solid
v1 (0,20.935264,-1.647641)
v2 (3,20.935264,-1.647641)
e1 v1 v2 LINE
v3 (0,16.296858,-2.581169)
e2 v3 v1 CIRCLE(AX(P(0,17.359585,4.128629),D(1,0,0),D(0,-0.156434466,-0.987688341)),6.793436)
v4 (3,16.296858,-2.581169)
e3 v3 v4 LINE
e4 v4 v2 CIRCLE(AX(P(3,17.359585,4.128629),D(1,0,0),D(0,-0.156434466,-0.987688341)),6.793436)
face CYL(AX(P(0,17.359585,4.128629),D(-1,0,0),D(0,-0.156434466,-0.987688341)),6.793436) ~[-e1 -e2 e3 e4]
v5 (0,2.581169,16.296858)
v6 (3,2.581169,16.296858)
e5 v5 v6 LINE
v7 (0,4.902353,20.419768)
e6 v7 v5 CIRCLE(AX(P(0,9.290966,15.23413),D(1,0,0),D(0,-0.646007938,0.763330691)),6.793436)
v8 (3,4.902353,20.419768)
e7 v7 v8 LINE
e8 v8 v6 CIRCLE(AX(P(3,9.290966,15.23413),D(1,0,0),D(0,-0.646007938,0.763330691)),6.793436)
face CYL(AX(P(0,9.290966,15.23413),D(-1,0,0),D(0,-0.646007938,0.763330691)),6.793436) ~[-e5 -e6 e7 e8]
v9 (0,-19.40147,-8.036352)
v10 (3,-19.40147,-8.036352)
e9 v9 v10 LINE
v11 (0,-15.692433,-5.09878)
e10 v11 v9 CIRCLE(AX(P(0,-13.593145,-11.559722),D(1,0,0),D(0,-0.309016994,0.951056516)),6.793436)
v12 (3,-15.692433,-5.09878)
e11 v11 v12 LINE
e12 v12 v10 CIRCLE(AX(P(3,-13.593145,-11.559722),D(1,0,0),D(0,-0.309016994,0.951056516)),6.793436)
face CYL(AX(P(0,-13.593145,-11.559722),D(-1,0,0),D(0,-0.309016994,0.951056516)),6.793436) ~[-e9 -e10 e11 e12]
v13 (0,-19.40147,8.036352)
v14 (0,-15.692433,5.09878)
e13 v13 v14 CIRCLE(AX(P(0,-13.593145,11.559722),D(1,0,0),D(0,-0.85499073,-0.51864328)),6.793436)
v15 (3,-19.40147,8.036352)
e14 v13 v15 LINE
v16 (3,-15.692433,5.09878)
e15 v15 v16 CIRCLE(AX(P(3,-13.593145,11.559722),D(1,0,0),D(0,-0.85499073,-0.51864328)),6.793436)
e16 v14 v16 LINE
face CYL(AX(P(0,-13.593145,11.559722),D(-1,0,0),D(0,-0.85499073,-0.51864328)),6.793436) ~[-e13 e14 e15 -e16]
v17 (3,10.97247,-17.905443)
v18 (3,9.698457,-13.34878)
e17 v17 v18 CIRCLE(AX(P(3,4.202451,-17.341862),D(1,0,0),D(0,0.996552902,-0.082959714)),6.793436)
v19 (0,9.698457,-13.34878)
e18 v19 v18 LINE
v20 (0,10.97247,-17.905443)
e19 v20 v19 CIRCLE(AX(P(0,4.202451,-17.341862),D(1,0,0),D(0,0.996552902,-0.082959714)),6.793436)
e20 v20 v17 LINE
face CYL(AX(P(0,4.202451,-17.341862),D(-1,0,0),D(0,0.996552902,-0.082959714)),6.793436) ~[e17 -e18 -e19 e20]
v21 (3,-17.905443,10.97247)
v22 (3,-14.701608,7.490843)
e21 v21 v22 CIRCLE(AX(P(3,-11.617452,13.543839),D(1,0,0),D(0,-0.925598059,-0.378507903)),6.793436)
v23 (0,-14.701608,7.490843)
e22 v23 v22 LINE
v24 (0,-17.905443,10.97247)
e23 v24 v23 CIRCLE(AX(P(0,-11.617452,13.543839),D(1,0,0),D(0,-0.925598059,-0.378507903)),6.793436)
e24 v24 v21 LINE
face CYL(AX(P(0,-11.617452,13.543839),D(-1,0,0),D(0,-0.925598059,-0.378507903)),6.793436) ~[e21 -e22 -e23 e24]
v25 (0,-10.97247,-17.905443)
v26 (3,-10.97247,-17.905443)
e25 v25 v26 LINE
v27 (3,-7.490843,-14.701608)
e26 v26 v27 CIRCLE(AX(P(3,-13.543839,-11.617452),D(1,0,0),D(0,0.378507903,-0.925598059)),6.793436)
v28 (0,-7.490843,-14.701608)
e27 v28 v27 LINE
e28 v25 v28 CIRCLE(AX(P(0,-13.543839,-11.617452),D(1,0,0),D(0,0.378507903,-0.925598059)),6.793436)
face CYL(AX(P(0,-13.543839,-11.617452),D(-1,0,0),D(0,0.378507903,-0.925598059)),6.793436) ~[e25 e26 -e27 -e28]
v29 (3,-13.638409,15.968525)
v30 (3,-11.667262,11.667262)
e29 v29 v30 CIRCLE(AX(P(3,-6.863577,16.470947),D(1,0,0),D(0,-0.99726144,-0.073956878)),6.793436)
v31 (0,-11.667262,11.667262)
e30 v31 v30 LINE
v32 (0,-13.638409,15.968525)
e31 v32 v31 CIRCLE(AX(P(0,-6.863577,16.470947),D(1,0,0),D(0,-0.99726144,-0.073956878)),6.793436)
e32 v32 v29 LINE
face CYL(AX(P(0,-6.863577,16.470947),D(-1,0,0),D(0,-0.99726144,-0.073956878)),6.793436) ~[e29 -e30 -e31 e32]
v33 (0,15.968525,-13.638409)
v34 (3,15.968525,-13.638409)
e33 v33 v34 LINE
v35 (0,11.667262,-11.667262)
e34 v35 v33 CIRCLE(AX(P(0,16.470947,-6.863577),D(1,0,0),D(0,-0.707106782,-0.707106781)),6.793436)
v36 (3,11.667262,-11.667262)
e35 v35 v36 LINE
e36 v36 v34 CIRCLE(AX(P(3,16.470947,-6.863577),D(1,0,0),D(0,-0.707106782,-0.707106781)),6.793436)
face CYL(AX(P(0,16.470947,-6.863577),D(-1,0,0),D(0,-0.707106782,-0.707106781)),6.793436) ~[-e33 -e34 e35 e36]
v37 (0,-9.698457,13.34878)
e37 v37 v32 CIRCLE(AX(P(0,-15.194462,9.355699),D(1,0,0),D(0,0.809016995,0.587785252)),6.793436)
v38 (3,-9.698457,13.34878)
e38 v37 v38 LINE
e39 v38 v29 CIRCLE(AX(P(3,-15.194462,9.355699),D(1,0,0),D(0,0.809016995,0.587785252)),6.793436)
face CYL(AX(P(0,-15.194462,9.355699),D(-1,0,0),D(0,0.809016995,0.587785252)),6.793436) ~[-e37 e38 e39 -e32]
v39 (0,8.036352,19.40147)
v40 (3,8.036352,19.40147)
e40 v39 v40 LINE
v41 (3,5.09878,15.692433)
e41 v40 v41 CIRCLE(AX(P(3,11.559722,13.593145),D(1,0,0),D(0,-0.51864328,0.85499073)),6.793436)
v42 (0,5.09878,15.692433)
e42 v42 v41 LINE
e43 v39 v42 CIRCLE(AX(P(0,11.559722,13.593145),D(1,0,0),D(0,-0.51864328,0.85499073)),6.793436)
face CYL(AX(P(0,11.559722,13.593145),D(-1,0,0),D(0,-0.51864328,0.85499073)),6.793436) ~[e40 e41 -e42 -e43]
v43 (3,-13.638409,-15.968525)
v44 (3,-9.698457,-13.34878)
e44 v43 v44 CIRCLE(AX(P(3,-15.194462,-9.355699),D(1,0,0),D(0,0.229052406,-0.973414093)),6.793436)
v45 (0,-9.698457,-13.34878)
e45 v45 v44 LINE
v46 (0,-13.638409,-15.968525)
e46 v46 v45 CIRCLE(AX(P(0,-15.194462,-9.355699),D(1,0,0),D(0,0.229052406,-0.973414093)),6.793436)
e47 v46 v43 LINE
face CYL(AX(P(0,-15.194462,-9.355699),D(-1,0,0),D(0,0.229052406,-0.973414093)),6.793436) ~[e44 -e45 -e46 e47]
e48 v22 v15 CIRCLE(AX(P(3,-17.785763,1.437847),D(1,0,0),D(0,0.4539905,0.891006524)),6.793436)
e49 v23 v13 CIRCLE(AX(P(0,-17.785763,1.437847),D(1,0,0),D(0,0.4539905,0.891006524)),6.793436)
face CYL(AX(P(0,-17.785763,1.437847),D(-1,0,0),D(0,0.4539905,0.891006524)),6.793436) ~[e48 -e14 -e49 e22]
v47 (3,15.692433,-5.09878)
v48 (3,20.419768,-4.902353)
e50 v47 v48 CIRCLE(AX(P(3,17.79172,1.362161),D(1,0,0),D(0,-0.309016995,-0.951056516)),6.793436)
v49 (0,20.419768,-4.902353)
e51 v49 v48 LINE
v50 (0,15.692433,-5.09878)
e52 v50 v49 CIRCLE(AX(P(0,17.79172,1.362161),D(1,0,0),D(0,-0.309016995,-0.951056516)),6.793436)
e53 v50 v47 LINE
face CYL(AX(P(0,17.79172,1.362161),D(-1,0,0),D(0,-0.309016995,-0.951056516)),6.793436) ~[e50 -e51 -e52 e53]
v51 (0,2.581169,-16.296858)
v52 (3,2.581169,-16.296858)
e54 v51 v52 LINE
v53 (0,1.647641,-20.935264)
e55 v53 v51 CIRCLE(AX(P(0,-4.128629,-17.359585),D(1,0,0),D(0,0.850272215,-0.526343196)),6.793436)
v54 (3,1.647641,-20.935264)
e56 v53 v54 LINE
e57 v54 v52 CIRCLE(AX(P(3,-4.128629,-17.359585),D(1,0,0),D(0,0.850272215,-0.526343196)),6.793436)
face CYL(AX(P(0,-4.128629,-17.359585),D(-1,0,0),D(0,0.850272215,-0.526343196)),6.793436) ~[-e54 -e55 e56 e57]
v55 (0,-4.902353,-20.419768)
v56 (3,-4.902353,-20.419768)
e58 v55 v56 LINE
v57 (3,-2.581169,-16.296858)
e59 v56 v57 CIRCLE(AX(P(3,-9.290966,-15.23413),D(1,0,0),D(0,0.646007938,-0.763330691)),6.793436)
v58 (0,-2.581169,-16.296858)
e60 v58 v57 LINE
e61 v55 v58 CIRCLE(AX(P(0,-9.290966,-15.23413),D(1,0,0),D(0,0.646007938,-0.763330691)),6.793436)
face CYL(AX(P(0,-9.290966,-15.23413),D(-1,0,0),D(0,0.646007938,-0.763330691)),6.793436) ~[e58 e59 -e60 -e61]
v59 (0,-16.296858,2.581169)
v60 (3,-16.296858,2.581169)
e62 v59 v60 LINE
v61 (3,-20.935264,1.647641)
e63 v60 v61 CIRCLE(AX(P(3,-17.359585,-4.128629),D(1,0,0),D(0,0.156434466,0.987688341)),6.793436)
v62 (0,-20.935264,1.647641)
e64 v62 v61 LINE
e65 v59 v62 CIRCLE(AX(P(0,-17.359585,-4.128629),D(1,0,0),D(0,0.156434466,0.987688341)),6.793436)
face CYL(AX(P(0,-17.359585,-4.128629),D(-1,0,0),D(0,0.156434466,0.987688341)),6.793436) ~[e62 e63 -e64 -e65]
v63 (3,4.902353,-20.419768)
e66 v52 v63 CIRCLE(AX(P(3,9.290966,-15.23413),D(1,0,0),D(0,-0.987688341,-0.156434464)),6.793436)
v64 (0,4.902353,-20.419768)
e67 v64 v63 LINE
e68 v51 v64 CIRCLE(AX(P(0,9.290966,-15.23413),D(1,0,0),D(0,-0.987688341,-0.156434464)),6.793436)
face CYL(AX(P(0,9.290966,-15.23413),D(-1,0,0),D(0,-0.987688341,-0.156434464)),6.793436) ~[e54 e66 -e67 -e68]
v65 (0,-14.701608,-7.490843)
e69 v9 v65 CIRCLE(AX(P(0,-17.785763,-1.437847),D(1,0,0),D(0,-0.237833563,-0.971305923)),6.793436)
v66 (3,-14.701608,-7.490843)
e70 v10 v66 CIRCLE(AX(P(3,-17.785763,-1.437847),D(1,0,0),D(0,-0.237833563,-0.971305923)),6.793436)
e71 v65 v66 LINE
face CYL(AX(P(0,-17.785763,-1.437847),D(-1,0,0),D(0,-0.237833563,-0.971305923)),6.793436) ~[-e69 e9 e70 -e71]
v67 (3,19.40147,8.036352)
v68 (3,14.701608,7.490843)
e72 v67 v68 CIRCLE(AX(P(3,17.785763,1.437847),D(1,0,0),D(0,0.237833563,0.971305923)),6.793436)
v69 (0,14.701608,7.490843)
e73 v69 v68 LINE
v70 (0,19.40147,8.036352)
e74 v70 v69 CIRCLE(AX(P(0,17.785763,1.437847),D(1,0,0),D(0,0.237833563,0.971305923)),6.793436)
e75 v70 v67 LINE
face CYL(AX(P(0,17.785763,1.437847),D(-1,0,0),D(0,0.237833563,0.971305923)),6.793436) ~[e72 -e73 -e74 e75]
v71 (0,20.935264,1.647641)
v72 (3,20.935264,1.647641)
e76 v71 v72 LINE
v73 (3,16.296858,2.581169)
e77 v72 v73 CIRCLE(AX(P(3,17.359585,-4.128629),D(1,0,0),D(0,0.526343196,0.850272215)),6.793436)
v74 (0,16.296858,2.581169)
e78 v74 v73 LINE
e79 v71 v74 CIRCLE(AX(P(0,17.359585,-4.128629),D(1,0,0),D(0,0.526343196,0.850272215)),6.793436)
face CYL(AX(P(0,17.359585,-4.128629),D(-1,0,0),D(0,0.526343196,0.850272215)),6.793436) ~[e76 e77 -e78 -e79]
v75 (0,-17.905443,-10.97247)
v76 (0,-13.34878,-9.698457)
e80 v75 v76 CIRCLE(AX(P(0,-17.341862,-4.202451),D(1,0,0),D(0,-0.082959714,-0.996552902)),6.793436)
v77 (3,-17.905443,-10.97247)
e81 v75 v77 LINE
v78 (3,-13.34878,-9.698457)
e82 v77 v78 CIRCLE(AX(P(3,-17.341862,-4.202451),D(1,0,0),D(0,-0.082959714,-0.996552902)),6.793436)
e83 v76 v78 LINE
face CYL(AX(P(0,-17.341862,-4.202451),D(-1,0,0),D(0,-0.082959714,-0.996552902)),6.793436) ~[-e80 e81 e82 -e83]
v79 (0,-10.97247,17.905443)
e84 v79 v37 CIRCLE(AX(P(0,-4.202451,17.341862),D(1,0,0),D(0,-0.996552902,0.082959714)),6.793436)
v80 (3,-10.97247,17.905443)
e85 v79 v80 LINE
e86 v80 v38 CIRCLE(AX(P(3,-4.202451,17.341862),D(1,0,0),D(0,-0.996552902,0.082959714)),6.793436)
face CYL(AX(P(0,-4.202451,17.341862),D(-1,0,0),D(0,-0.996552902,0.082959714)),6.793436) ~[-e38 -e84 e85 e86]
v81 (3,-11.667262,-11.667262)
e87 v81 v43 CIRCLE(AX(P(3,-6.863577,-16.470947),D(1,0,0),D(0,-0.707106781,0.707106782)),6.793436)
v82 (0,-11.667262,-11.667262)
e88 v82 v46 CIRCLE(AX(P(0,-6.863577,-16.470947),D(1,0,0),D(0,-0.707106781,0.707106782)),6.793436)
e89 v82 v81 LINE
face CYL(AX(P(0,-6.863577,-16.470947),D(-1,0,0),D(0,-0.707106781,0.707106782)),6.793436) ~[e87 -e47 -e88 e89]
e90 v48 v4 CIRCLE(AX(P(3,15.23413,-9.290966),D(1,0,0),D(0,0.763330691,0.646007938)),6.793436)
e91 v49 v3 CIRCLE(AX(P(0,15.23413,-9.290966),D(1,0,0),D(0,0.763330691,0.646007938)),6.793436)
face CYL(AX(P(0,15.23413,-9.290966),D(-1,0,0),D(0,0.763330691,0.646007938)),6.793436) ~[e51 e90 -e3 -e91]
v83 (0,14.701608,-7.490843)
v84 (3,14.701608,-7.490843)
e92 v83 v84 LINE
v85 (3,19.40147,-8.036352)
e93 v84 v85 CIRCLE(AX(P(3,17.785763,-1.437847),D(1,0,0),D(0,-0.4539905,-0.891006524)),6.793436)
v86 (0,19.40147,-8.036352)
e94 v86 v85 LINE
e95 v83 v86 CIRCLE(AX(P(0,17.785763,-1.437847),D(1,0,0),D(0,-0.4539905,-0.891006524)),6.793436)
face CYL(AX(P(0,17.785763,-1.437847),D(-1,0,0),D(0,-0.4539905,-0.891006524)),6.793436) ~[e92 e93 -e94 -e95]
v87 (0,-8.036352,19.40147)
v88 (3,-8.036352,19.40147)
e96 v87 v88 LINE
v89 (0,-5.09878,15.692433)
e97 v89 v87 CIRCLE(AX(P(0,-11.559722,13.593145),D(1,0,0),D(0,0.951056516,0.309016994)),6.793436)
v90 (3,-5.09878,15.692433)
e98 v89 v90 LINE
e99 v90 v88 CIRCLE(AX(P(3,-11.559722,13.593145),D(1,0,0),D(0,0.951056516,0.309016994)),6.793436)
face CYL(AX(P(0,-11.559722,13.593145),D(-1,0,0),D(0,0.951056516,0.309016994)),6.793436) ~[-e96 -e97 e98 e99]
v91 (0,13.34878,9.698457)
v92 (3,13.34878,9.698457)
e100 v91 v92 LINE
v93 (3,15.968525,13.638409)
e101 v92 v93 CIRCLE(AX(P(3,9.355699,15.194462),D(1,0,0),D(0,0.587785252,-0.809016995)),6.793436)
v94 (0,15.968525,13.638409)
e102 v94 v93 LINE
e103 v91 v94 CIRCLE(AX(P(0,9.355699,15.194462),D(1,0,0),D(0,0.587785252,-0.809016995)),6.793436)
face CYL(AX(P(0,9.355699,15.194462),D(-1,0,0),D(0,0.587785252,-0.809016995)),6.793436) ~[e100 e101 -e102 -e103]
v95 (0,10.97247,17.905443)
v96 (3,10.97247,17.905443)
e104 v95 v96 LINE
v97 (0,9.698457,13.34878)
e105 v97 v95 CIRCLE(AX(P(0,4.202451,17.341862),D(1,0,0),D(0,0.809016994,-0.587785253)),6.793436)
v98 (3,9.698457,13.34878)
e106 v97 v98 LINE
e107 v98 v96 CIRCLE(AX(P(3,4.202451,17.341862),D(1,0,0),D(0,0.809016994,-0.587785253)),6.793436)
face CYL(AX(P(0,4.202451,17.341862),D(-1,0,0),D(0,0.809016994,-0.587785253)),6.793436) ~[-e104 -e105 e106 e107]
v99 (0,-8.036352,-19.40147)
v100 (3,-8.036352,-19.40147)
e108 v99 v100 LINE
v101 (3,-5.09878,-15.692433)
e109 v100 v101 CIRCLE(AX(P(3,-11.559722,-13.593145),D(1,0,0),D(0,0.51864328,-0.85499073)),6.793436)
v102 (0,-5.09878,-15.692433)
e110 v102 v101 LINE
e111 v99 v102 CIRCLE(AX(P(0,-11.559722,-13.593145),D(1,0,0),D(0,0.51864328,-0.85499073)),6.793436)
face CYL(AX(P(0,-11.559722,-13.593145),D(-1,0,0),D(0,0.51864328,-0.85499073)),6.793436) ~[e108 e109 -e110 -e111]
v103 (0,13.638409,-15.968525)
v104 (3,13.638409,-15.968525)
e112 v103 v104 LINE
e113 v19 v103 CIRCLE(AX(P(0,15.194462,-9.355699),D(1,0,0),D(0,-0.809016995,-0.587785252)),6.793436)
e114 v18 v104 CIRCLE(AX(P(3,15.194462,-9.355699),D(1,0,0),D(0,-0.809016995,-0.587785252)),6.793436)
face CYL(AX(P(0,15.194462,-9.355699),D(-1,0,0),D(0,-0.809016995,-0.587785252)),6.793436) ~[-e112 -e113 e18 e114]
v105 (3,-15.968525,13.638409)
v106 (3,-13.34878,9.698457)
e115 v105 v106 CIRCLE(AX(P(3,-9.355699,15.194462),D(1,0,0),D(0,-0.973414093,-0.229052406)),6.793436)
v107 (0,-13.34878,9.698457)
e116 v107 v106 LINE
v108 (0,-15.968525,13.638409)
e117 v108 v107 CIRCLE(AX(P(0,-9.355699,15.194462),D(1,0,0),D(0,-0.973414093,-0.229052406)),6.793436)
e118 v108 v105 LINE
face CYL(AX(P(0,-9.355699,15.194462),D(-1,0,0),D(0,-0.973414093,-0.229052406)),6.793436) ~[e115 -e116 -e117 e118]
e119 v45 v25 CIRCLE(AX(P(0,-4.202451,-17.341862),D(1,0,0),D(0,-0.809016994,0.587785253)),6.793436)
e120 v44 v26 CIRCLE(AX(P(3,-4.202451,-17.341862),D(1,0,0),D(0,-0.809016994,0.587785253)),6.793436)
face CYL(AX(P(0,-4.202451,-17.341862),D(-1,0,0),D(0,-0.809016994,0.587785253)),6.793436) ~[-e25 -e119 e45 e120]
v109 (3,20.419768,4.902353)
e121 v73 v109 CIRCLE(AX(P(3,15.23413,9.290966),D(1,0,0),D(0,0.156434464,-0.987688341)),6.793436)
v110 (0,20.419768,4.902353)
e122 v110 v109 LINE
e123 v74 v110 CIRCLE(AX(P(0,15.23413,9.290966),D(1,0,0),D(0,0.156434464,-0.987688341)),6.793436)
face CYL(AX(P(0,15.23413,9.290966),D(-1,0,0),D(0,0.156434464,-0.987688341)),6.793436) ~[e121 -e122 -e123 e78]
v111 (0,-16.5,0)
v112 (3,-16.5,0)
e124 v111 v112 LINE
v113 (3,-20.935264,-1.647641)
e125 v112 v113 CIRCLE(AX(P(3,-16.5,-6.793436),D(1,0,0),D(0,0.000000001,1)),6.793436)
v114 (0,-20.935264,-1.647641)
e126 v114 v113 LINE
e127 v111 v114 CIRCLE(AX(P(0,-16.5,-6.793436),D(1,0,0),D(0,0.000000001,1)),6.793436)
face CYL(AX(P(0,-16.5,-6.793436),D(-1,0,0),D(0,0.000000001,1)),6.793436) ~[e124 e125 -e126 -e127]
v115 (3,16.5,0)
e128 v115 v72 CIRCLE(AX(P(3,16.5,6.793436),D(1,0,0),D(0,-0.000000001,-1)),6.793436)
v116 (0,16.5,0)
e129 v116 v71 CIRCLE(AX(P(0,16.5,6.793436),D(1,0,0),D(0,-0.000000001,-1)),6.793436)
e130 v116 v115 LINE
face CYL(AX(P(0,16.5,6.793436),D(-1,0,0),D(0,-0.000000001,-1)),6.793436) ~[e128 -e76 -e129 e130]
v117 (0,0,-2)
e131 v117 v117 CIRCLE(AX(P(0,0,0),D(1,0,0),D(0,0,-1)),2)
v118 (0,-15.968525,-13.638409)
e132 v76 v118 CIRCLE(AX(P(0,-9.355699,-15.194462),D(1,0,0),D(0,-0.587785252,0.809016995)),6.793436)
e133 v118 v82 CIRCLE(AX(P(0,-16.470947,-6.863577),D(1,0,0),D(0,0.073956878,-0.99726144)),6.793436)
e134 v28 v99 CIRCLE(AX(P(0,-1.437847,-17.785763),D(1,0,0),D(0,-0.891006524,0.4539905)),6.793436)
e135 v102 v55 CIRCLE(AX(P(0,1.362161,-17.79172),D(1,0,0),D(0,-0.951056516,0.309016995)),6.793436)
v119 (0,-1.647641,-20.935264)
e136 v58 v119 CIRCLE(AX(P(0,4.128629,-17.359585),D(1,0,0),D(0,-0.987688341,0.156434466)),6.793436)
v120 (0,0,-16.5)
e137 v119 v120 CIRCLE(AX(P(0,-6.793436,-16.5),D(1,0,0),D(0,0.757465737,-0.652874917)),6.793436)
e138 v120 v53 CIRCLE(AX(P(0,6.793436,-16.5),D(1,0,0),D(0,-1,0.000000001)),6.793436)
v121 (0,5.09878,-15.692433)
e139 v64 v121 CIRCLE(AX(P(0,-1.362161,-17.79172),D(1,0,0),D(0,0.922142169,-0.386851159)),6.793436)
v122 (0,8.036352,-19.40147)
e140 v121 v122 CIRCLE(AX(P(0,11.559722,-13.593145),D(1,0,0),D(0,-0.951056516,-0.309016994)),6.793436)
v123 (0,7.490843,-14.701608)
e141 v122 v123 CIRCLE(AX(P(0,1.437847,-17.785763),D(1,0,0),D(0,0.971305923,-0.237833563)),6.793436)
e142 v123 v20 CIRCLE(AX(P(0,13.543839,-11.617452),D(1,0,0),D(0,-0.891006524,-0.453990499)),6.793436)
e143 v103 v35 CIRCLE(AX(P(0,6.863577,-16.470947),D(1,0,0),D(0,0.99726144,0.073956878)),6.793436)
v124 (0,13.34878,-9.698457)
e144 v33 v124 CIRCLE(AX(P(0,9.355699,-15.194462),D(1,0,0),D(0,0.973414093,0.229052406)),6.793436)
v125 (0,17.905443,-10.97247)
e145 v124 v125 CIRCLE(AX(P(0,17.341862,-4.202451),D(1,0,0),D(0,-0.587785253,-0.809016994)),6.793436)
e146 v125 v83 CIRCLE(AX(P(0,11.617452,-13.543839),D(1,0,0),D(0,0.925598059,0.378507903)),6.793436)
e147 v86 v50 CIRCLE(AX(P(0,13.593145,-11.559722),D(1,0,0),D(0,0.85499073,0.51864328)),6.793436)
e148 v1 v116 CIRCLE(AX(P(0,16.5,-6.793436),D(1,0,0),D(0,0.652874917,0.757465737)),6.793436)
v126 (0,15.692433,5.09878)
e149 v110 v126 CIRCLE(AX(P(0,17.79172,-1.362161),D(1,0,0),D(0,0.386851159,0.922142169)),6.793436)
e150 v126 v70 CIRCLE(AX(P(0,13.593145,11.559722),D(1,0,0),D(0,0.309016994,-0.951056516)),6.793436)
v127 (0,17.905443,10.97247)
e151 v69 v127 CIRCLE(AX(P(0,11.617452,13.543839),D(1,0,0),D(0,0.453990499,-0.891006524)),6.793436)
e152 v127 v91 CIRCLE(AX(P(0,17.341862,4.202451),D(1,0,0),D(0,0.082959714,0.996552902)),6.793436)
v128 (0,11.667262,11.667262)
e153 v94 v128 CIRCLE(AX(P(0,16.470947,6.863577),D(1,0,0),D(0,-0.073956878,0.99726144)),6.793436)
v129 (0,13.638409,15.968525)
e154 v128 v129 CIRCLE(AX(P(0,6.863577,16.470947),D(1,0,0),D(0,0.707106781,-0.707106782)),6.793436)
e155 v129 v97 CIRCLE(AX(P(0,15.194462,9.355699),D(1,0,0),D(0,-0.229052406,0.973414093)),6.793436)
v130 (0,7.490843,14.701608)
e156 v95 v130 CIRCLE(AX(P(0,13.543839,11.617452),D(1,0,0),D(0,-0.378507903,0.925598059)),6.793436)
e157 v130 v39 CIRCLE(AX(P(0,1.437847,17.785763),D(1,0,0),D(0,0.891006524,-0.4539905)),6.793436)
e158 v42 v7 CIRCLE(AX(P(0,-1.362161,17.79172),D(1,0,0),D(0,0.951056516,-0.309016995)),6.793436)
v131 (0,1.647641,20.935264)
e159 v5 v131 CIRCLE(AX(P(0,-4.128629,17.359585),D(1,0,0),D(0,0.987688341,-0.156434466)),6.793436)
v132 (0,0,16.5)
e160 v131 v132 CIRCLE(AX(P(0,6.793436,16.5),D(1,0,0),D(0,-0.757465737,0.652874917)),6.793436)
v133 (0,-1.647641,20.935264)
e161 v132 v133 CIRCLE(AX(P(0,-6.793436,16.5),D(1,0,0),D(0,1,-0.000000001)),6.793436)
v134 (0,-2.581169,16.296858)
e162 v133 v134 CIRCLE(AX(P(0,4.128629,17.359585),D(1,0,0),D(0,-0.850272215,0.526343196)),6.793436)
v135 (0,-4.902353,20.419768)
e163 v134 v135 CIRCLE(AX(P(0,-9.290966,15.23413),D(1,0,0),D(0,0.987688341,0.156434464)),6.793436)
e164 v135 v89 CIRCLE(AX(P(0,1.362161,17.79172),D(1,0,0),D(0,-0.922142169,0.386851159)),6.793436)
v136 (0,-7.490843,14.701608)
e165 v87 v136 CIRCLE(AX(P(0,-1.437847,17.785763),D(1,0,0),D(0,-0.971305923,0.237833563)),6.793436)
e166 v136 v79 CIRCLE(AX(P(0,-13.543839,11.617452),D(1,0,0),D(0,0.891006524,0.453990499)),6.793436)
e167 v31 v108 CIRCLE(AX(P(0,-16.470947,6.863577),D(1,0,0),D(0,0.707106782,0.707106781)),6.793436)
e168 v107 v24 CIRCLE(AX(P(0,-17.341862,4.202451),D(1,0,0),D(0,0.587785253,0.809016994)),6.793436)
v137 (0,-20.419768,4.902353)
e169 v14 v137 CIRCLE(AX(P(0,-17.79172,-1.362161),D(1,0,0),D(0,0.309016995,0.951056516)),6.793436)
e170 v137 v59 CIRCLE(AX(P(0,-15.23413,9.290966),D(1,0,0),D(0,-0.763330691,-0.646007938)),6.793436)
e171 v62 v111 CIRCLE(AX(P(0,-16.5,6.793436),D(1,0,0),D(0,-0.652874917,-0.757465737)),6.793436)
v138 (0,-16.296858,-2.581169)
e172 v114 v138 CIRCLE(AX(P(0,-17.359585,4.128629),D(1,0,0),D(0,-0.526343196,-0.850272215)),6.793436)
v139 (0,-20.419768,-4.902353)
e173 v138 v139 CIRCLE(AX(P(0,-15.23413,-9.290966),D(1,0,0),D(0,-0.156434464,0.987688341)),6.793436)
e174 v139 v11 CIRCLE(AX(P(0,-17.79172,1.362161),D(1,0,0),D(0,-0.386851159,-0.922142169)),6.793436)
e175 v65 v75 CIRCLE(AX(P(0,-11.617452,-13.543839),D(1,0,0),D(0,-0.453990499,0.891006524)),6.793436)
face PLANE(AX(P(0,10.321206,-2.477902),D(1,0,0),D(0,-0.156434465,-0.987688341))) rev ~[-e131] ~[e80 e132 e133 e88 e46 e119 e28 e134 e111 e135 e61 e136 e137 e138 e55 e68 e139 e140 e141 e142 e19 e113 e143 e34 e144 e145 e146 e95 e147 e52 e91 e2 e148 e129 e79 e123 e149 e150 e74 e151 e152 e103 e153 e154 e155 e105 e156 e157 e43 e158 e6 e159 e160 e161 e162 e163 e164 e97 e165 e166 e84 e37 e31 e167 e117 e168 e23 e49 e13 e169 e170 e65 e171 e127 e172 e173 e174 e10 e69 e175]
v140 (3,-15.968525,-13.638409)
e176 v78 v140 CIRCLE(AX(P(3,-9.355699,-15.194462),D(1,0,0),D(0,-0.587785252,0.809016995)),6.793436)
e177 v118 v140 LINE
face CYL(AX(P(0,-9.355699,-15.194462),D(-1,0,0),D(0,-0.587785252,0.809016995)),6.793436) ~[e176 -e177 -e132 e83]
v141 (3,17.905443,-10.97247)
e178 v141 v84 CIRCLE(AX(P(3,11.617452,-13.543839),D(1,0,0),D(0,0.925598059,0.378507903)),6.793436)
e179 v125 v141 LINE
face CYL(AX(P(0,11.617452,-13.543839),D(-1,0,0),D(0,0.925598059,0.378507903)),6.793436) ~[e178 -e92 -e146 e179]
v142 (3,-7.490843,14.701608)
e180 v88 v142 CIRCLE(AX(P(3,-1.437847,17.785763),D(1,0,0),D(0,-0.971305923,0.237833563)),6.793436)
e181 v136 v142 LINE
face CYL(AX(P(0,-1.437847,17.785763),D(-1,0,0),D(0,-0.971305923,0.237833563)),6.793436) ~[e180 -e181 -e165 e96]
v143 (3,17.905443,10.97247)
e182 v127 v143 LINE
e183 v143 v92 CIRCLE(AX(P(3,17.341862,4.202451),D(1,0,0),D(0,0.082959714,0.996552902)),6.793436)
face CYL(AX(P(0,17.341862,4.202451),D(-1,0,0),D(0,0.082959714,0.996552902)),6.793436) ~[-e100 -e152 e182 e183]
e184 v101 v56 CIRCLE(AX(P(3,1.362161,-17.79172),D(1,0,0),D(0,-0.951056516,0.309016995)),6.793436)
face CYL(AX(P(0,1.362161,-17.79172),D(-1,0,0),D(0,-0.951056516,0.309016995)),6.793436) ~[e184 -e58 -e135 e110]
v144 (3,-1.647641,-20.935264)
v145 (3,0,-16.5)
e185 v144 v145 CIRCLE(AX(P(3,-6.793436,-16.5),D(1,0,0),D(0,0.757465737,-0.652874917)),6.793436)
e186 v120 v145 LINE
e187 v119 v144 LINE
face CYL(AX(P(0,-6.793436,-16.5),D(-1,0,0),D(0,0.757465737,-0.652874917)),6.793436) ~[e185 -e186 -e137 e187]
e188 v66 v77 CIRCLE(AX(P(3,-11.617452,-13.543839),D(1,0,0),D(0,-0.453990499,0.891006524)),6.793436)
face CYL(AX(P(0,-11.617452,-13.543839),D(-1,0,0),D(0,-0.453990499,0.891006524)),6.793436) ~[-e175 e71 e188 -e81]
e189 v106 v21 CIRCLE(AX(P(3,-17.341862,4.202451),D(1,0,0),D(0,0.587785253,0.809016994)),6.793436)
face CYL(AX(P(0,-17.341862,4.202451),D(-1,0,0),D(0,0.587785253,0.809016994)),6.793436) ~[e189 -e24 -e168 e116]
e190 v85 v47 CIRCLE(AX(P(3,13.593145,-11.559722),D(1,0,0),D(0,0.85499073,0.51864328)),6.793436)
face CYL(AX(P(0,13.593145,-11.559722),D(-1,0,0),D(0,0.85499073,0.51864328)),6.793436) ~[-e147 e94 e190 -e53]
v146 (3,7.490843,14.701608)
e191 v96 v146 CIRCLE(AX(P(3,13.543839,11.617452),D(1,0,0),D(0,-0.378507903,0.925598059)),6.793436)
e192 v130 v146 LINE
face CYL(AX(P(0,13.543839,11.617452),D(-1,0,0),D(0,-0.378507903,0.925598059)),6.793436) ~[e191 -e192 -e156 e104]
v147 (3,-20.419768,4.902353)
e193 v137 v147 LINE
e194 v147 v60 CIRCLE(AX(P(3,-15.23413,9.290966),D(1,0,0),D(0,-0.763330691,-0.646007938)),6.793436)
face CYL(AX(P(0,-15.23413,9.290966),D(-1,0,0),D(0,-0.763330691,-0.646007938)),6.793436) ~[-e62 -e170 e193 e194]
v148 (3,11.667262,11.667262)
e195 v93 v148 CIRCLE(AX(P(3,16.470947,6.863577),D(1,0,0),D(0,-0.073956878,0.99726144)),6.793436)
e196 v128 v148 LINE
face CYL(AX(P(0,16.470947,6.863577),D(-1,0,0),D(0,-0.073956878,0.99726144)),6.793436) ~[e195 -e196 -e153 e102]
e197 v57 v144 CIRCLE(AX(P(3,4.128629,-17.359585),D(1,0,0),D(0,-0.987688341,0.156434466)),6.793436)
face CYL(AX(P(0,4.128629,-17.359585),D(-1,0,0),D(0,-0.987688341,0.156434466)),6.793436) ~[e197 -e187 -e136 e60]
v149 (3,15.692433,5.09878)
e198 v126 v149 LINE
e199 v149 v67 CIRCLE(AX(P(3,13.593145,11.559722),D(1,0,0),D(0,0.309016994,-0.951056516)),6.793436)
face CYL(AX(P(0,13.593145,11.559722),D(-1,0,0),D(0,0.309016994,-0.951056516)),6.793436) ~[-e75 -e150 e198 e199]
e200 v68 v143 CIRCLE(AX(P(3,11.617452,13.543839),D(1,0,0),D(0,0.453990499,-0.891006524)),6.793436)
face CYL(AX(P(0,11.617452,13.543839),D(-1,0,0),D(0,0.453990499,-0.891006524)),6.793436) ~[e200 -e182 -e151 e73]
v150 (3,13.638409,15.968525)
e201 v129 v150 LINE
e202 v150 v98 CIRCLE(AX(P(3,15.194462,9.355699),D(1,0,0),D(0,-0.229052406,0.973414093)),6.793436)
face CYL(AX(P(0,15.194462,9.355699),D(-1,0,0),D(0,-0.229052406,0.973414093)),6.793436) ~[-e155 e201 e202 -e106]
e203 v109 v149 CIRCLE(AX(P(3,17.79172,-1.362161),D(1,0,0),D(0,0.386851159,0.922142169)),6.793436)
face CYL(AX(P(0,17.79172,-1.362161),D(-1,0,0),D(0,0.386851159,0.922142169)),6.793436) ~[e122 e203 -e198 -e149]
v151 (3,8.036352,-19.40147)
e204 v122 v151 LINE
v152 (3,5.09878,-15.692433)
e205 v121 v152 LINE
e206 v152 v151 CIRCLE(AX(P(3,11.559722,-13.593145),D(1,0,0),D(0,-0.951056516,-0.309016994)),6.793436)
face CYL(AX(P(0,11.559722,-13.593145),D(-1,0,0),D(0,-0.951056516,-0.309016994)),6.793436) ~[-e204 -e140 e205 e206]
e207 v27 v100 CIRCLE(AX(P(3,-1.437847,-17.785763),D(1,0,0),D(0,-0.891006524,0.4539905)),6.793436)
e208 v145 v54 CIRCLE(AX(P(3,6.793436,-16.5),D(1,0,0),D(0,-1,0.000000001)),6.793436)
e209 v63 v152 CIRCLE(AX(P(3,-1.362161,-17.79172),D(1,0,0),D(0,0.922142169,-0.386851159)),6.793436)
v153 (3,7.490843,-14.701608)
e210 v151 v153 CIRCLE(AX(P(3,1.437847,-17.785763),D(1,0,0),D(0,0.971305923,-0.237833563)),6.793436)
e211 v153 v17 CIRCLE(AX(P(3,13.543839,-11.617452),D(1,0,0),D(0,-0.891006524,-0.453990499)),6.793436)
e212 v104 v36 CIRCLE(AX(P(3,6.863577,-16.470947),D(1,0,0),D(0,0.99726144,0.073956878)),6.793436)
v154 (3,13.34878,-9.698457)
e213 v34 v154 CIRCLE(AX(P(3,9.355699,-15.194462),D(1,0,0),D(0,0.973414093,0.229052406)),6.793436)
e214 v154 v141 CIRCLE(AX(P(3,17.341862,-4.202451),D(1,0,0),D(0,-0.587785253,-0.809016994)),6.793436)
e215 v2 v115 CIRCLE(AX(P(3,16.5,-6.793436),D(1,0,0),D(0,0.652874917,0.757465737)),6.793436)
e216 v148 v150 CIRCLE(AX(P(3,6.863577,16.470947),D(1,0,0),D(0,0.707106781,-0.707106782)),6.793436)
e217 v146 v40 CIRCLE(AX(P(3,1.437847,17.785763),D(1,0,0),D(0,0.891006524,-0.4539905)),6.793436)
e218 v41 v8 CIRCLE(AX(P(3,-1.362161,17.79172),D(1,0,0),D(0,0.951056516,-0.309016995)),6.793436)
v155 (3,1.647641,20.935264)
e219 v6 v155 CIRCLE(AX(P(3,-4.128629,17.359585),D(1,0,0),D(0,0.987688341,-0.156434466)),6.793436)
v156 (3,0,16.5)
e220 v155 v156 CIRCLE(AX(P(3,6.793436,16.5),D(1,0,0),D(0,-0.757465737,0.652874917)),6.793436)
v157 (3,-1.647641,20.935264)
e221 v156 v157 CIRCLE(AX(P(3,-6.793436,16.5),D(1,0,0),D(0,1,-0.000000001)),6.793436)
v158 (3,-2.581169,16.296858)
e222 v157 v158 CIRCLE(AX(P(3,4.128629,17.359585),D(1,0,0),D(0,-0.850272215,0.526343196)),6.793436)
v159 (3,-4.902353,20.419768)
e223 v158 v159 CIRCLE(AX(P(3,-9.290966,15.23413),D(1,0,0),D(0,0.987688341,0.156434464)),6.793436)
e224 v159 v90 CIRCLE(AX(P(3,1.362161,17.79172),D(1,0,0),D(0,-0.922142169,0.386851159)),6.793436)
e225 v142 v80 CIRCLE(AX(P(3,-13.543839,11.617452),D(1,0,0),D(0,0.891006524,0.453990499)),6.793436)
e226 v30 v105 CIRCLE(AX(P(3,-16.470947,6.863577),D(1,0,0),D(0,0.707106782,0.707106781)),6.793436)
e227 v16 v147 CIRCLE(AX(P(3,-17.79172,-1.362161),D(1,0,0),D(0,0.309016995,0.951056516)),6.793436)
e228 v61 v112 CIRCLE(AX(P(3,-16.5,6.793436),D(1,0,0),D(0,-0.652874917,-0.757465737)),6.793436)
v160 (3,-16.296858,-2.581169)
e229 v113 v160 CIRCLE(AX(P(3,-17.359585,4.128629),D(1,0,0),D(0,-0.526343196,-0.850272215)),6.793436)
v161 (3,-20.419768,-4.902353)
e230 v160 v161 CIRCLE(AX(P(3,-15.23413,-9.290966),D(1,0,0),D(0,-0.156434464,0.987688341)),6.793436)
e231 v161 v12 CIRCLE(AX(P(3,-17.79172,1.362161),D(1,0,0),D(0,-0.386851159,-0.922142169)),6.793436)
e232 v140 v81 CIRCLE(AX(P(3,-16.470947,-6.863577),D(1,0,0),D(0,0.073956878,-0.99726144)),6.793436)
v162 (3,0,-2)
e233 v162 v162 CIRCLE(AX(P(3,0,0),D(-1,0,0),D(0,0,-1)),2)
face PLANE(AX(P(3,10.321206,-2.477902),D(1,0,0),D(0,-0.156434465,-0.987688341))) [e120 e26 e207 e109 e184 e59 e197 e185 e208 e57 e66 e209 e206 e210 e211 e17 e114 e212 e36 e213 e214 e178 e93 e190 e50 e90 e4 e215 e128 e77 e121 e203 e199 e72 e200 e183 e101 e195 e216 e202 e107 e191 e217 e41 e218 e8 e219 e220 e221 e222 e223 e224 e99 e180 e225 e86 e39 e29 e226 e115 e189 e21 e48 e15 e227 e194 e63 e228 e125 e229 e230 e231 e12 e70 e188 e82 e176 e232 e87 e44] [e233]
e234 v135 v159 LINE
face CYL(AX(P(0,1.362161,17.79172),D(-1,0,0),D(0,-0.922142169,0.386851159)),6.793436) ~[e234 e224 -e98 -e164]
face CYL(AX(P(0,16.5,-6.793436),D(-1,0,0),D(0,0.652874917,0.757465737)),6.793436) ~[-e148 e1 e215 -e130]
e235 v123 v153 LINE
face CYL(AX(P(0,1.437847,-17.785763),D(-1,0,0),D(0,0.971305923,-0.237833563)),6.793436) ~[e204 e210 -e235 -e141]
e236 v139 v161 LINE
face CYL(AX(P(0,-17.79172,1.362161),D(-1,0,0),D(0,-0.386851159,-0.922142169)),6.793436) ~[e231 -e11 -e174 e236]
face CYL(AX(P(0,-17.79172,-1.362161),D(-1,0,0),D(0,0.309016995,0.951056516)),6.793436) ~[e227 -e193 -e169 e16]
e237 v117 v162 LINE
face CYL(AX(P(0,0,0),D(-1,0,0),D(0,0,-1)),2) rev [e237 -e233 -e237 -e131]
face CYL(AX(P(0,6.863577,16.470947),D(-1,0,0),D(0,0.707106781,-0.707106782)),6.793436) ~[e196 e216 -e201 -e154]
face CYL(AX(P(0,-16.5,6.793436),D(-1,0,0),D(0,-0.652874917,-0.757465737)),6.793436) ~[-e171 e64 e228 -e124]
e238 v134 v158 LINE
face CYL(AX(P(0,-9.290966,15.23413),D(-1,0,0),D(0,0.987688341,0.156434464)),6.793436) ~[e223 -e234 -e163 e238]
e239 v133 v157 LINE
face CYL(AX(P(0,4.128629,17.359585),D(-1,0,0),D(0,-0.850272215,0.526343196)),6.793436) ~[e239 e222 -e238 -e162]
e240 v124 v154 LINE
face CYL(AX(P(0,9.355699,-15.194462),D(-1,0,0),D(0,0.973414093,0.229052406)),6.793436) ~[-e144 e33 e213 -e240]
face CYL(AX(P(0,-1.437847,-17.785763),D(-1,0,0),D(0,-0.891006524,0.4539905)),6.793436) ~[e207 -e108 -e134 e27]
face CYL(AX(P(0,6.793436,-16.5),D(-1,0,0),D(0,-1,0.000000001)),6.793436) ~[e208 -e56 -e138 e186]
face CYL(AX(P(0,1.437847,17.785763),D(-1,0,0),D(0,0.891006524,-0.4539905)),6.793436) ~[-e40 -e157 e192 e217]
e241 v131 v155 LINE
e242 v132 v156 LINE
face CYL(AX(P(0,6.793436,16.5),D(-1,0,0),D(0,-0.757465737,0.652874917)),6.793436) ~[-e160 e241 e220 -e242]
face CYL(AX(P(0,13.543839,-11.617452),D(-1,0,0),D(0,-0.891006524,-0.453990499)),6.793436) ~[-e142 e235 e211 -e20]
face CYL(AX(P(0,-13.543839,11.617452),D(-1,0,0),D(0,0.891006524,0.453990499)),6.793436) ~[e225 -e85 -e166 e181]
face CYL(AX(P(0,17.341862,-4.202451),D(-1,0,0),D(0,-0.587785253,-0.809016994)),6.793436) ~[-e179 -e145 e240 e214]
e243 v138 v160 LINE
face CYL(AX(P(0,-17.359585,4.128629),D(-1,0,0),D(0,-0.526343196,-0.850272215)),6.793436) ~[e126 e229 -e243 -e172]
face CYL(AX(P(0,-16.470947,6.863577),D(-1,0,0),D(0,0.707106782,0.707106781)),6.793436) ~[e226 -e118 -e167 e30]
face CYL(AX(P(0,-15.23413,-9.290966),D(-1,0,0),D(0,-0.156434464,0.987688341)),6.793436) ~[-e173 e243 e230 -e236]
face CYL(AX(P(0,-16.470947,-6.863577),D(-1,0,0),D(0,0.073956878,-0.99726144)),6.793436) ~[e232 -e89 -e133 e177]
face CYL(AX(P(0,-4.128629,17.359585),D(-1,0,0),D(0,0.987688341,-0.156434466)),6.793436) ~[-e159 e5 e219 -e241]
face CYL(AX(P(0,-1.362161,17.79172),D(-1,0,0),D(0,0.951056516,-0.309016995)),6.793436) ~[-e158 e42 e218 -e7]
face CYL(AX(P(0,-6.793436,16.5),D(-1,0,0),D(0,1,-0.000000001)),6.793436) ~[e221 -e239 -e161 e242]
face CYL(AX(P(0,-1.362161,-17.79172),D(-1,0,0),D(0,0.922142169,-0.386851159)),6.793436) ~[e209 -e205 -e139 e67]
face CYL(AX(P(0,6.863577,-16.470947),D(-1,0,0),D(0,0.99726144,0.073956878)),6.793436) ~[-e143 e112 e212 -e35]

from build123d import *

# Parameters (mm, degrees)
BOSS_EXTRUDE1_DEPTH = 3
CIRPATTERN1_COUNT   = 40
SKETCH2_R           = 2
CUT_EXTRUDE2_DEPTH  = 4


with BuildPart() as part:
    # Sketch1 → Boss-Extrude1 (new body)
    with BuildSketch(Plane(origin=(0, 0, 0), x_dir=(0, 0, -1), z_dir=(1, 0, 0))):
        with BuildLine():
            Line((0, 16.5), (0, 0))
            Line((0, 0), (2.581168673, 16.29685762))
            ThreePointArc((2.581168673, 16.29685762), (2.531264023, 18.699958072), (1.64764101, 20.935264008))
            ThreePointArc((1.64764101, 20.935264008), (0.425217975, 18.865707491), (0, 16.5))
        make_face()
    boss_extrude1 = extrude(amount=BOSS_EXTRUDE1_DEPTH)

    # CirPattern1: Boss-Extrude1 ×40 about axis
    cirpattern1_axis = Axis((0, 0, 0), (1, 0, 0))
    for i in range(1, CIRPATTERN1_COUNT):
        add(boss_extrude1.rotate(cirpattern1_axis, i * 360 / CIRPATTERN1_COUNT))

    # Sketch2 → Cut-Extrude2 (cut, through all)
    with BuildSketch(Plane(origin=(0, 0, 0), x_dir=(0, 0, -1), z_dir=(1, 0, 0))):
        Circle(SKETCH2_R)
    extrude(amount=CUT_EXTRUDE2_DEPTH, mode=Mode.SUBTRACT)


solid = part.part
